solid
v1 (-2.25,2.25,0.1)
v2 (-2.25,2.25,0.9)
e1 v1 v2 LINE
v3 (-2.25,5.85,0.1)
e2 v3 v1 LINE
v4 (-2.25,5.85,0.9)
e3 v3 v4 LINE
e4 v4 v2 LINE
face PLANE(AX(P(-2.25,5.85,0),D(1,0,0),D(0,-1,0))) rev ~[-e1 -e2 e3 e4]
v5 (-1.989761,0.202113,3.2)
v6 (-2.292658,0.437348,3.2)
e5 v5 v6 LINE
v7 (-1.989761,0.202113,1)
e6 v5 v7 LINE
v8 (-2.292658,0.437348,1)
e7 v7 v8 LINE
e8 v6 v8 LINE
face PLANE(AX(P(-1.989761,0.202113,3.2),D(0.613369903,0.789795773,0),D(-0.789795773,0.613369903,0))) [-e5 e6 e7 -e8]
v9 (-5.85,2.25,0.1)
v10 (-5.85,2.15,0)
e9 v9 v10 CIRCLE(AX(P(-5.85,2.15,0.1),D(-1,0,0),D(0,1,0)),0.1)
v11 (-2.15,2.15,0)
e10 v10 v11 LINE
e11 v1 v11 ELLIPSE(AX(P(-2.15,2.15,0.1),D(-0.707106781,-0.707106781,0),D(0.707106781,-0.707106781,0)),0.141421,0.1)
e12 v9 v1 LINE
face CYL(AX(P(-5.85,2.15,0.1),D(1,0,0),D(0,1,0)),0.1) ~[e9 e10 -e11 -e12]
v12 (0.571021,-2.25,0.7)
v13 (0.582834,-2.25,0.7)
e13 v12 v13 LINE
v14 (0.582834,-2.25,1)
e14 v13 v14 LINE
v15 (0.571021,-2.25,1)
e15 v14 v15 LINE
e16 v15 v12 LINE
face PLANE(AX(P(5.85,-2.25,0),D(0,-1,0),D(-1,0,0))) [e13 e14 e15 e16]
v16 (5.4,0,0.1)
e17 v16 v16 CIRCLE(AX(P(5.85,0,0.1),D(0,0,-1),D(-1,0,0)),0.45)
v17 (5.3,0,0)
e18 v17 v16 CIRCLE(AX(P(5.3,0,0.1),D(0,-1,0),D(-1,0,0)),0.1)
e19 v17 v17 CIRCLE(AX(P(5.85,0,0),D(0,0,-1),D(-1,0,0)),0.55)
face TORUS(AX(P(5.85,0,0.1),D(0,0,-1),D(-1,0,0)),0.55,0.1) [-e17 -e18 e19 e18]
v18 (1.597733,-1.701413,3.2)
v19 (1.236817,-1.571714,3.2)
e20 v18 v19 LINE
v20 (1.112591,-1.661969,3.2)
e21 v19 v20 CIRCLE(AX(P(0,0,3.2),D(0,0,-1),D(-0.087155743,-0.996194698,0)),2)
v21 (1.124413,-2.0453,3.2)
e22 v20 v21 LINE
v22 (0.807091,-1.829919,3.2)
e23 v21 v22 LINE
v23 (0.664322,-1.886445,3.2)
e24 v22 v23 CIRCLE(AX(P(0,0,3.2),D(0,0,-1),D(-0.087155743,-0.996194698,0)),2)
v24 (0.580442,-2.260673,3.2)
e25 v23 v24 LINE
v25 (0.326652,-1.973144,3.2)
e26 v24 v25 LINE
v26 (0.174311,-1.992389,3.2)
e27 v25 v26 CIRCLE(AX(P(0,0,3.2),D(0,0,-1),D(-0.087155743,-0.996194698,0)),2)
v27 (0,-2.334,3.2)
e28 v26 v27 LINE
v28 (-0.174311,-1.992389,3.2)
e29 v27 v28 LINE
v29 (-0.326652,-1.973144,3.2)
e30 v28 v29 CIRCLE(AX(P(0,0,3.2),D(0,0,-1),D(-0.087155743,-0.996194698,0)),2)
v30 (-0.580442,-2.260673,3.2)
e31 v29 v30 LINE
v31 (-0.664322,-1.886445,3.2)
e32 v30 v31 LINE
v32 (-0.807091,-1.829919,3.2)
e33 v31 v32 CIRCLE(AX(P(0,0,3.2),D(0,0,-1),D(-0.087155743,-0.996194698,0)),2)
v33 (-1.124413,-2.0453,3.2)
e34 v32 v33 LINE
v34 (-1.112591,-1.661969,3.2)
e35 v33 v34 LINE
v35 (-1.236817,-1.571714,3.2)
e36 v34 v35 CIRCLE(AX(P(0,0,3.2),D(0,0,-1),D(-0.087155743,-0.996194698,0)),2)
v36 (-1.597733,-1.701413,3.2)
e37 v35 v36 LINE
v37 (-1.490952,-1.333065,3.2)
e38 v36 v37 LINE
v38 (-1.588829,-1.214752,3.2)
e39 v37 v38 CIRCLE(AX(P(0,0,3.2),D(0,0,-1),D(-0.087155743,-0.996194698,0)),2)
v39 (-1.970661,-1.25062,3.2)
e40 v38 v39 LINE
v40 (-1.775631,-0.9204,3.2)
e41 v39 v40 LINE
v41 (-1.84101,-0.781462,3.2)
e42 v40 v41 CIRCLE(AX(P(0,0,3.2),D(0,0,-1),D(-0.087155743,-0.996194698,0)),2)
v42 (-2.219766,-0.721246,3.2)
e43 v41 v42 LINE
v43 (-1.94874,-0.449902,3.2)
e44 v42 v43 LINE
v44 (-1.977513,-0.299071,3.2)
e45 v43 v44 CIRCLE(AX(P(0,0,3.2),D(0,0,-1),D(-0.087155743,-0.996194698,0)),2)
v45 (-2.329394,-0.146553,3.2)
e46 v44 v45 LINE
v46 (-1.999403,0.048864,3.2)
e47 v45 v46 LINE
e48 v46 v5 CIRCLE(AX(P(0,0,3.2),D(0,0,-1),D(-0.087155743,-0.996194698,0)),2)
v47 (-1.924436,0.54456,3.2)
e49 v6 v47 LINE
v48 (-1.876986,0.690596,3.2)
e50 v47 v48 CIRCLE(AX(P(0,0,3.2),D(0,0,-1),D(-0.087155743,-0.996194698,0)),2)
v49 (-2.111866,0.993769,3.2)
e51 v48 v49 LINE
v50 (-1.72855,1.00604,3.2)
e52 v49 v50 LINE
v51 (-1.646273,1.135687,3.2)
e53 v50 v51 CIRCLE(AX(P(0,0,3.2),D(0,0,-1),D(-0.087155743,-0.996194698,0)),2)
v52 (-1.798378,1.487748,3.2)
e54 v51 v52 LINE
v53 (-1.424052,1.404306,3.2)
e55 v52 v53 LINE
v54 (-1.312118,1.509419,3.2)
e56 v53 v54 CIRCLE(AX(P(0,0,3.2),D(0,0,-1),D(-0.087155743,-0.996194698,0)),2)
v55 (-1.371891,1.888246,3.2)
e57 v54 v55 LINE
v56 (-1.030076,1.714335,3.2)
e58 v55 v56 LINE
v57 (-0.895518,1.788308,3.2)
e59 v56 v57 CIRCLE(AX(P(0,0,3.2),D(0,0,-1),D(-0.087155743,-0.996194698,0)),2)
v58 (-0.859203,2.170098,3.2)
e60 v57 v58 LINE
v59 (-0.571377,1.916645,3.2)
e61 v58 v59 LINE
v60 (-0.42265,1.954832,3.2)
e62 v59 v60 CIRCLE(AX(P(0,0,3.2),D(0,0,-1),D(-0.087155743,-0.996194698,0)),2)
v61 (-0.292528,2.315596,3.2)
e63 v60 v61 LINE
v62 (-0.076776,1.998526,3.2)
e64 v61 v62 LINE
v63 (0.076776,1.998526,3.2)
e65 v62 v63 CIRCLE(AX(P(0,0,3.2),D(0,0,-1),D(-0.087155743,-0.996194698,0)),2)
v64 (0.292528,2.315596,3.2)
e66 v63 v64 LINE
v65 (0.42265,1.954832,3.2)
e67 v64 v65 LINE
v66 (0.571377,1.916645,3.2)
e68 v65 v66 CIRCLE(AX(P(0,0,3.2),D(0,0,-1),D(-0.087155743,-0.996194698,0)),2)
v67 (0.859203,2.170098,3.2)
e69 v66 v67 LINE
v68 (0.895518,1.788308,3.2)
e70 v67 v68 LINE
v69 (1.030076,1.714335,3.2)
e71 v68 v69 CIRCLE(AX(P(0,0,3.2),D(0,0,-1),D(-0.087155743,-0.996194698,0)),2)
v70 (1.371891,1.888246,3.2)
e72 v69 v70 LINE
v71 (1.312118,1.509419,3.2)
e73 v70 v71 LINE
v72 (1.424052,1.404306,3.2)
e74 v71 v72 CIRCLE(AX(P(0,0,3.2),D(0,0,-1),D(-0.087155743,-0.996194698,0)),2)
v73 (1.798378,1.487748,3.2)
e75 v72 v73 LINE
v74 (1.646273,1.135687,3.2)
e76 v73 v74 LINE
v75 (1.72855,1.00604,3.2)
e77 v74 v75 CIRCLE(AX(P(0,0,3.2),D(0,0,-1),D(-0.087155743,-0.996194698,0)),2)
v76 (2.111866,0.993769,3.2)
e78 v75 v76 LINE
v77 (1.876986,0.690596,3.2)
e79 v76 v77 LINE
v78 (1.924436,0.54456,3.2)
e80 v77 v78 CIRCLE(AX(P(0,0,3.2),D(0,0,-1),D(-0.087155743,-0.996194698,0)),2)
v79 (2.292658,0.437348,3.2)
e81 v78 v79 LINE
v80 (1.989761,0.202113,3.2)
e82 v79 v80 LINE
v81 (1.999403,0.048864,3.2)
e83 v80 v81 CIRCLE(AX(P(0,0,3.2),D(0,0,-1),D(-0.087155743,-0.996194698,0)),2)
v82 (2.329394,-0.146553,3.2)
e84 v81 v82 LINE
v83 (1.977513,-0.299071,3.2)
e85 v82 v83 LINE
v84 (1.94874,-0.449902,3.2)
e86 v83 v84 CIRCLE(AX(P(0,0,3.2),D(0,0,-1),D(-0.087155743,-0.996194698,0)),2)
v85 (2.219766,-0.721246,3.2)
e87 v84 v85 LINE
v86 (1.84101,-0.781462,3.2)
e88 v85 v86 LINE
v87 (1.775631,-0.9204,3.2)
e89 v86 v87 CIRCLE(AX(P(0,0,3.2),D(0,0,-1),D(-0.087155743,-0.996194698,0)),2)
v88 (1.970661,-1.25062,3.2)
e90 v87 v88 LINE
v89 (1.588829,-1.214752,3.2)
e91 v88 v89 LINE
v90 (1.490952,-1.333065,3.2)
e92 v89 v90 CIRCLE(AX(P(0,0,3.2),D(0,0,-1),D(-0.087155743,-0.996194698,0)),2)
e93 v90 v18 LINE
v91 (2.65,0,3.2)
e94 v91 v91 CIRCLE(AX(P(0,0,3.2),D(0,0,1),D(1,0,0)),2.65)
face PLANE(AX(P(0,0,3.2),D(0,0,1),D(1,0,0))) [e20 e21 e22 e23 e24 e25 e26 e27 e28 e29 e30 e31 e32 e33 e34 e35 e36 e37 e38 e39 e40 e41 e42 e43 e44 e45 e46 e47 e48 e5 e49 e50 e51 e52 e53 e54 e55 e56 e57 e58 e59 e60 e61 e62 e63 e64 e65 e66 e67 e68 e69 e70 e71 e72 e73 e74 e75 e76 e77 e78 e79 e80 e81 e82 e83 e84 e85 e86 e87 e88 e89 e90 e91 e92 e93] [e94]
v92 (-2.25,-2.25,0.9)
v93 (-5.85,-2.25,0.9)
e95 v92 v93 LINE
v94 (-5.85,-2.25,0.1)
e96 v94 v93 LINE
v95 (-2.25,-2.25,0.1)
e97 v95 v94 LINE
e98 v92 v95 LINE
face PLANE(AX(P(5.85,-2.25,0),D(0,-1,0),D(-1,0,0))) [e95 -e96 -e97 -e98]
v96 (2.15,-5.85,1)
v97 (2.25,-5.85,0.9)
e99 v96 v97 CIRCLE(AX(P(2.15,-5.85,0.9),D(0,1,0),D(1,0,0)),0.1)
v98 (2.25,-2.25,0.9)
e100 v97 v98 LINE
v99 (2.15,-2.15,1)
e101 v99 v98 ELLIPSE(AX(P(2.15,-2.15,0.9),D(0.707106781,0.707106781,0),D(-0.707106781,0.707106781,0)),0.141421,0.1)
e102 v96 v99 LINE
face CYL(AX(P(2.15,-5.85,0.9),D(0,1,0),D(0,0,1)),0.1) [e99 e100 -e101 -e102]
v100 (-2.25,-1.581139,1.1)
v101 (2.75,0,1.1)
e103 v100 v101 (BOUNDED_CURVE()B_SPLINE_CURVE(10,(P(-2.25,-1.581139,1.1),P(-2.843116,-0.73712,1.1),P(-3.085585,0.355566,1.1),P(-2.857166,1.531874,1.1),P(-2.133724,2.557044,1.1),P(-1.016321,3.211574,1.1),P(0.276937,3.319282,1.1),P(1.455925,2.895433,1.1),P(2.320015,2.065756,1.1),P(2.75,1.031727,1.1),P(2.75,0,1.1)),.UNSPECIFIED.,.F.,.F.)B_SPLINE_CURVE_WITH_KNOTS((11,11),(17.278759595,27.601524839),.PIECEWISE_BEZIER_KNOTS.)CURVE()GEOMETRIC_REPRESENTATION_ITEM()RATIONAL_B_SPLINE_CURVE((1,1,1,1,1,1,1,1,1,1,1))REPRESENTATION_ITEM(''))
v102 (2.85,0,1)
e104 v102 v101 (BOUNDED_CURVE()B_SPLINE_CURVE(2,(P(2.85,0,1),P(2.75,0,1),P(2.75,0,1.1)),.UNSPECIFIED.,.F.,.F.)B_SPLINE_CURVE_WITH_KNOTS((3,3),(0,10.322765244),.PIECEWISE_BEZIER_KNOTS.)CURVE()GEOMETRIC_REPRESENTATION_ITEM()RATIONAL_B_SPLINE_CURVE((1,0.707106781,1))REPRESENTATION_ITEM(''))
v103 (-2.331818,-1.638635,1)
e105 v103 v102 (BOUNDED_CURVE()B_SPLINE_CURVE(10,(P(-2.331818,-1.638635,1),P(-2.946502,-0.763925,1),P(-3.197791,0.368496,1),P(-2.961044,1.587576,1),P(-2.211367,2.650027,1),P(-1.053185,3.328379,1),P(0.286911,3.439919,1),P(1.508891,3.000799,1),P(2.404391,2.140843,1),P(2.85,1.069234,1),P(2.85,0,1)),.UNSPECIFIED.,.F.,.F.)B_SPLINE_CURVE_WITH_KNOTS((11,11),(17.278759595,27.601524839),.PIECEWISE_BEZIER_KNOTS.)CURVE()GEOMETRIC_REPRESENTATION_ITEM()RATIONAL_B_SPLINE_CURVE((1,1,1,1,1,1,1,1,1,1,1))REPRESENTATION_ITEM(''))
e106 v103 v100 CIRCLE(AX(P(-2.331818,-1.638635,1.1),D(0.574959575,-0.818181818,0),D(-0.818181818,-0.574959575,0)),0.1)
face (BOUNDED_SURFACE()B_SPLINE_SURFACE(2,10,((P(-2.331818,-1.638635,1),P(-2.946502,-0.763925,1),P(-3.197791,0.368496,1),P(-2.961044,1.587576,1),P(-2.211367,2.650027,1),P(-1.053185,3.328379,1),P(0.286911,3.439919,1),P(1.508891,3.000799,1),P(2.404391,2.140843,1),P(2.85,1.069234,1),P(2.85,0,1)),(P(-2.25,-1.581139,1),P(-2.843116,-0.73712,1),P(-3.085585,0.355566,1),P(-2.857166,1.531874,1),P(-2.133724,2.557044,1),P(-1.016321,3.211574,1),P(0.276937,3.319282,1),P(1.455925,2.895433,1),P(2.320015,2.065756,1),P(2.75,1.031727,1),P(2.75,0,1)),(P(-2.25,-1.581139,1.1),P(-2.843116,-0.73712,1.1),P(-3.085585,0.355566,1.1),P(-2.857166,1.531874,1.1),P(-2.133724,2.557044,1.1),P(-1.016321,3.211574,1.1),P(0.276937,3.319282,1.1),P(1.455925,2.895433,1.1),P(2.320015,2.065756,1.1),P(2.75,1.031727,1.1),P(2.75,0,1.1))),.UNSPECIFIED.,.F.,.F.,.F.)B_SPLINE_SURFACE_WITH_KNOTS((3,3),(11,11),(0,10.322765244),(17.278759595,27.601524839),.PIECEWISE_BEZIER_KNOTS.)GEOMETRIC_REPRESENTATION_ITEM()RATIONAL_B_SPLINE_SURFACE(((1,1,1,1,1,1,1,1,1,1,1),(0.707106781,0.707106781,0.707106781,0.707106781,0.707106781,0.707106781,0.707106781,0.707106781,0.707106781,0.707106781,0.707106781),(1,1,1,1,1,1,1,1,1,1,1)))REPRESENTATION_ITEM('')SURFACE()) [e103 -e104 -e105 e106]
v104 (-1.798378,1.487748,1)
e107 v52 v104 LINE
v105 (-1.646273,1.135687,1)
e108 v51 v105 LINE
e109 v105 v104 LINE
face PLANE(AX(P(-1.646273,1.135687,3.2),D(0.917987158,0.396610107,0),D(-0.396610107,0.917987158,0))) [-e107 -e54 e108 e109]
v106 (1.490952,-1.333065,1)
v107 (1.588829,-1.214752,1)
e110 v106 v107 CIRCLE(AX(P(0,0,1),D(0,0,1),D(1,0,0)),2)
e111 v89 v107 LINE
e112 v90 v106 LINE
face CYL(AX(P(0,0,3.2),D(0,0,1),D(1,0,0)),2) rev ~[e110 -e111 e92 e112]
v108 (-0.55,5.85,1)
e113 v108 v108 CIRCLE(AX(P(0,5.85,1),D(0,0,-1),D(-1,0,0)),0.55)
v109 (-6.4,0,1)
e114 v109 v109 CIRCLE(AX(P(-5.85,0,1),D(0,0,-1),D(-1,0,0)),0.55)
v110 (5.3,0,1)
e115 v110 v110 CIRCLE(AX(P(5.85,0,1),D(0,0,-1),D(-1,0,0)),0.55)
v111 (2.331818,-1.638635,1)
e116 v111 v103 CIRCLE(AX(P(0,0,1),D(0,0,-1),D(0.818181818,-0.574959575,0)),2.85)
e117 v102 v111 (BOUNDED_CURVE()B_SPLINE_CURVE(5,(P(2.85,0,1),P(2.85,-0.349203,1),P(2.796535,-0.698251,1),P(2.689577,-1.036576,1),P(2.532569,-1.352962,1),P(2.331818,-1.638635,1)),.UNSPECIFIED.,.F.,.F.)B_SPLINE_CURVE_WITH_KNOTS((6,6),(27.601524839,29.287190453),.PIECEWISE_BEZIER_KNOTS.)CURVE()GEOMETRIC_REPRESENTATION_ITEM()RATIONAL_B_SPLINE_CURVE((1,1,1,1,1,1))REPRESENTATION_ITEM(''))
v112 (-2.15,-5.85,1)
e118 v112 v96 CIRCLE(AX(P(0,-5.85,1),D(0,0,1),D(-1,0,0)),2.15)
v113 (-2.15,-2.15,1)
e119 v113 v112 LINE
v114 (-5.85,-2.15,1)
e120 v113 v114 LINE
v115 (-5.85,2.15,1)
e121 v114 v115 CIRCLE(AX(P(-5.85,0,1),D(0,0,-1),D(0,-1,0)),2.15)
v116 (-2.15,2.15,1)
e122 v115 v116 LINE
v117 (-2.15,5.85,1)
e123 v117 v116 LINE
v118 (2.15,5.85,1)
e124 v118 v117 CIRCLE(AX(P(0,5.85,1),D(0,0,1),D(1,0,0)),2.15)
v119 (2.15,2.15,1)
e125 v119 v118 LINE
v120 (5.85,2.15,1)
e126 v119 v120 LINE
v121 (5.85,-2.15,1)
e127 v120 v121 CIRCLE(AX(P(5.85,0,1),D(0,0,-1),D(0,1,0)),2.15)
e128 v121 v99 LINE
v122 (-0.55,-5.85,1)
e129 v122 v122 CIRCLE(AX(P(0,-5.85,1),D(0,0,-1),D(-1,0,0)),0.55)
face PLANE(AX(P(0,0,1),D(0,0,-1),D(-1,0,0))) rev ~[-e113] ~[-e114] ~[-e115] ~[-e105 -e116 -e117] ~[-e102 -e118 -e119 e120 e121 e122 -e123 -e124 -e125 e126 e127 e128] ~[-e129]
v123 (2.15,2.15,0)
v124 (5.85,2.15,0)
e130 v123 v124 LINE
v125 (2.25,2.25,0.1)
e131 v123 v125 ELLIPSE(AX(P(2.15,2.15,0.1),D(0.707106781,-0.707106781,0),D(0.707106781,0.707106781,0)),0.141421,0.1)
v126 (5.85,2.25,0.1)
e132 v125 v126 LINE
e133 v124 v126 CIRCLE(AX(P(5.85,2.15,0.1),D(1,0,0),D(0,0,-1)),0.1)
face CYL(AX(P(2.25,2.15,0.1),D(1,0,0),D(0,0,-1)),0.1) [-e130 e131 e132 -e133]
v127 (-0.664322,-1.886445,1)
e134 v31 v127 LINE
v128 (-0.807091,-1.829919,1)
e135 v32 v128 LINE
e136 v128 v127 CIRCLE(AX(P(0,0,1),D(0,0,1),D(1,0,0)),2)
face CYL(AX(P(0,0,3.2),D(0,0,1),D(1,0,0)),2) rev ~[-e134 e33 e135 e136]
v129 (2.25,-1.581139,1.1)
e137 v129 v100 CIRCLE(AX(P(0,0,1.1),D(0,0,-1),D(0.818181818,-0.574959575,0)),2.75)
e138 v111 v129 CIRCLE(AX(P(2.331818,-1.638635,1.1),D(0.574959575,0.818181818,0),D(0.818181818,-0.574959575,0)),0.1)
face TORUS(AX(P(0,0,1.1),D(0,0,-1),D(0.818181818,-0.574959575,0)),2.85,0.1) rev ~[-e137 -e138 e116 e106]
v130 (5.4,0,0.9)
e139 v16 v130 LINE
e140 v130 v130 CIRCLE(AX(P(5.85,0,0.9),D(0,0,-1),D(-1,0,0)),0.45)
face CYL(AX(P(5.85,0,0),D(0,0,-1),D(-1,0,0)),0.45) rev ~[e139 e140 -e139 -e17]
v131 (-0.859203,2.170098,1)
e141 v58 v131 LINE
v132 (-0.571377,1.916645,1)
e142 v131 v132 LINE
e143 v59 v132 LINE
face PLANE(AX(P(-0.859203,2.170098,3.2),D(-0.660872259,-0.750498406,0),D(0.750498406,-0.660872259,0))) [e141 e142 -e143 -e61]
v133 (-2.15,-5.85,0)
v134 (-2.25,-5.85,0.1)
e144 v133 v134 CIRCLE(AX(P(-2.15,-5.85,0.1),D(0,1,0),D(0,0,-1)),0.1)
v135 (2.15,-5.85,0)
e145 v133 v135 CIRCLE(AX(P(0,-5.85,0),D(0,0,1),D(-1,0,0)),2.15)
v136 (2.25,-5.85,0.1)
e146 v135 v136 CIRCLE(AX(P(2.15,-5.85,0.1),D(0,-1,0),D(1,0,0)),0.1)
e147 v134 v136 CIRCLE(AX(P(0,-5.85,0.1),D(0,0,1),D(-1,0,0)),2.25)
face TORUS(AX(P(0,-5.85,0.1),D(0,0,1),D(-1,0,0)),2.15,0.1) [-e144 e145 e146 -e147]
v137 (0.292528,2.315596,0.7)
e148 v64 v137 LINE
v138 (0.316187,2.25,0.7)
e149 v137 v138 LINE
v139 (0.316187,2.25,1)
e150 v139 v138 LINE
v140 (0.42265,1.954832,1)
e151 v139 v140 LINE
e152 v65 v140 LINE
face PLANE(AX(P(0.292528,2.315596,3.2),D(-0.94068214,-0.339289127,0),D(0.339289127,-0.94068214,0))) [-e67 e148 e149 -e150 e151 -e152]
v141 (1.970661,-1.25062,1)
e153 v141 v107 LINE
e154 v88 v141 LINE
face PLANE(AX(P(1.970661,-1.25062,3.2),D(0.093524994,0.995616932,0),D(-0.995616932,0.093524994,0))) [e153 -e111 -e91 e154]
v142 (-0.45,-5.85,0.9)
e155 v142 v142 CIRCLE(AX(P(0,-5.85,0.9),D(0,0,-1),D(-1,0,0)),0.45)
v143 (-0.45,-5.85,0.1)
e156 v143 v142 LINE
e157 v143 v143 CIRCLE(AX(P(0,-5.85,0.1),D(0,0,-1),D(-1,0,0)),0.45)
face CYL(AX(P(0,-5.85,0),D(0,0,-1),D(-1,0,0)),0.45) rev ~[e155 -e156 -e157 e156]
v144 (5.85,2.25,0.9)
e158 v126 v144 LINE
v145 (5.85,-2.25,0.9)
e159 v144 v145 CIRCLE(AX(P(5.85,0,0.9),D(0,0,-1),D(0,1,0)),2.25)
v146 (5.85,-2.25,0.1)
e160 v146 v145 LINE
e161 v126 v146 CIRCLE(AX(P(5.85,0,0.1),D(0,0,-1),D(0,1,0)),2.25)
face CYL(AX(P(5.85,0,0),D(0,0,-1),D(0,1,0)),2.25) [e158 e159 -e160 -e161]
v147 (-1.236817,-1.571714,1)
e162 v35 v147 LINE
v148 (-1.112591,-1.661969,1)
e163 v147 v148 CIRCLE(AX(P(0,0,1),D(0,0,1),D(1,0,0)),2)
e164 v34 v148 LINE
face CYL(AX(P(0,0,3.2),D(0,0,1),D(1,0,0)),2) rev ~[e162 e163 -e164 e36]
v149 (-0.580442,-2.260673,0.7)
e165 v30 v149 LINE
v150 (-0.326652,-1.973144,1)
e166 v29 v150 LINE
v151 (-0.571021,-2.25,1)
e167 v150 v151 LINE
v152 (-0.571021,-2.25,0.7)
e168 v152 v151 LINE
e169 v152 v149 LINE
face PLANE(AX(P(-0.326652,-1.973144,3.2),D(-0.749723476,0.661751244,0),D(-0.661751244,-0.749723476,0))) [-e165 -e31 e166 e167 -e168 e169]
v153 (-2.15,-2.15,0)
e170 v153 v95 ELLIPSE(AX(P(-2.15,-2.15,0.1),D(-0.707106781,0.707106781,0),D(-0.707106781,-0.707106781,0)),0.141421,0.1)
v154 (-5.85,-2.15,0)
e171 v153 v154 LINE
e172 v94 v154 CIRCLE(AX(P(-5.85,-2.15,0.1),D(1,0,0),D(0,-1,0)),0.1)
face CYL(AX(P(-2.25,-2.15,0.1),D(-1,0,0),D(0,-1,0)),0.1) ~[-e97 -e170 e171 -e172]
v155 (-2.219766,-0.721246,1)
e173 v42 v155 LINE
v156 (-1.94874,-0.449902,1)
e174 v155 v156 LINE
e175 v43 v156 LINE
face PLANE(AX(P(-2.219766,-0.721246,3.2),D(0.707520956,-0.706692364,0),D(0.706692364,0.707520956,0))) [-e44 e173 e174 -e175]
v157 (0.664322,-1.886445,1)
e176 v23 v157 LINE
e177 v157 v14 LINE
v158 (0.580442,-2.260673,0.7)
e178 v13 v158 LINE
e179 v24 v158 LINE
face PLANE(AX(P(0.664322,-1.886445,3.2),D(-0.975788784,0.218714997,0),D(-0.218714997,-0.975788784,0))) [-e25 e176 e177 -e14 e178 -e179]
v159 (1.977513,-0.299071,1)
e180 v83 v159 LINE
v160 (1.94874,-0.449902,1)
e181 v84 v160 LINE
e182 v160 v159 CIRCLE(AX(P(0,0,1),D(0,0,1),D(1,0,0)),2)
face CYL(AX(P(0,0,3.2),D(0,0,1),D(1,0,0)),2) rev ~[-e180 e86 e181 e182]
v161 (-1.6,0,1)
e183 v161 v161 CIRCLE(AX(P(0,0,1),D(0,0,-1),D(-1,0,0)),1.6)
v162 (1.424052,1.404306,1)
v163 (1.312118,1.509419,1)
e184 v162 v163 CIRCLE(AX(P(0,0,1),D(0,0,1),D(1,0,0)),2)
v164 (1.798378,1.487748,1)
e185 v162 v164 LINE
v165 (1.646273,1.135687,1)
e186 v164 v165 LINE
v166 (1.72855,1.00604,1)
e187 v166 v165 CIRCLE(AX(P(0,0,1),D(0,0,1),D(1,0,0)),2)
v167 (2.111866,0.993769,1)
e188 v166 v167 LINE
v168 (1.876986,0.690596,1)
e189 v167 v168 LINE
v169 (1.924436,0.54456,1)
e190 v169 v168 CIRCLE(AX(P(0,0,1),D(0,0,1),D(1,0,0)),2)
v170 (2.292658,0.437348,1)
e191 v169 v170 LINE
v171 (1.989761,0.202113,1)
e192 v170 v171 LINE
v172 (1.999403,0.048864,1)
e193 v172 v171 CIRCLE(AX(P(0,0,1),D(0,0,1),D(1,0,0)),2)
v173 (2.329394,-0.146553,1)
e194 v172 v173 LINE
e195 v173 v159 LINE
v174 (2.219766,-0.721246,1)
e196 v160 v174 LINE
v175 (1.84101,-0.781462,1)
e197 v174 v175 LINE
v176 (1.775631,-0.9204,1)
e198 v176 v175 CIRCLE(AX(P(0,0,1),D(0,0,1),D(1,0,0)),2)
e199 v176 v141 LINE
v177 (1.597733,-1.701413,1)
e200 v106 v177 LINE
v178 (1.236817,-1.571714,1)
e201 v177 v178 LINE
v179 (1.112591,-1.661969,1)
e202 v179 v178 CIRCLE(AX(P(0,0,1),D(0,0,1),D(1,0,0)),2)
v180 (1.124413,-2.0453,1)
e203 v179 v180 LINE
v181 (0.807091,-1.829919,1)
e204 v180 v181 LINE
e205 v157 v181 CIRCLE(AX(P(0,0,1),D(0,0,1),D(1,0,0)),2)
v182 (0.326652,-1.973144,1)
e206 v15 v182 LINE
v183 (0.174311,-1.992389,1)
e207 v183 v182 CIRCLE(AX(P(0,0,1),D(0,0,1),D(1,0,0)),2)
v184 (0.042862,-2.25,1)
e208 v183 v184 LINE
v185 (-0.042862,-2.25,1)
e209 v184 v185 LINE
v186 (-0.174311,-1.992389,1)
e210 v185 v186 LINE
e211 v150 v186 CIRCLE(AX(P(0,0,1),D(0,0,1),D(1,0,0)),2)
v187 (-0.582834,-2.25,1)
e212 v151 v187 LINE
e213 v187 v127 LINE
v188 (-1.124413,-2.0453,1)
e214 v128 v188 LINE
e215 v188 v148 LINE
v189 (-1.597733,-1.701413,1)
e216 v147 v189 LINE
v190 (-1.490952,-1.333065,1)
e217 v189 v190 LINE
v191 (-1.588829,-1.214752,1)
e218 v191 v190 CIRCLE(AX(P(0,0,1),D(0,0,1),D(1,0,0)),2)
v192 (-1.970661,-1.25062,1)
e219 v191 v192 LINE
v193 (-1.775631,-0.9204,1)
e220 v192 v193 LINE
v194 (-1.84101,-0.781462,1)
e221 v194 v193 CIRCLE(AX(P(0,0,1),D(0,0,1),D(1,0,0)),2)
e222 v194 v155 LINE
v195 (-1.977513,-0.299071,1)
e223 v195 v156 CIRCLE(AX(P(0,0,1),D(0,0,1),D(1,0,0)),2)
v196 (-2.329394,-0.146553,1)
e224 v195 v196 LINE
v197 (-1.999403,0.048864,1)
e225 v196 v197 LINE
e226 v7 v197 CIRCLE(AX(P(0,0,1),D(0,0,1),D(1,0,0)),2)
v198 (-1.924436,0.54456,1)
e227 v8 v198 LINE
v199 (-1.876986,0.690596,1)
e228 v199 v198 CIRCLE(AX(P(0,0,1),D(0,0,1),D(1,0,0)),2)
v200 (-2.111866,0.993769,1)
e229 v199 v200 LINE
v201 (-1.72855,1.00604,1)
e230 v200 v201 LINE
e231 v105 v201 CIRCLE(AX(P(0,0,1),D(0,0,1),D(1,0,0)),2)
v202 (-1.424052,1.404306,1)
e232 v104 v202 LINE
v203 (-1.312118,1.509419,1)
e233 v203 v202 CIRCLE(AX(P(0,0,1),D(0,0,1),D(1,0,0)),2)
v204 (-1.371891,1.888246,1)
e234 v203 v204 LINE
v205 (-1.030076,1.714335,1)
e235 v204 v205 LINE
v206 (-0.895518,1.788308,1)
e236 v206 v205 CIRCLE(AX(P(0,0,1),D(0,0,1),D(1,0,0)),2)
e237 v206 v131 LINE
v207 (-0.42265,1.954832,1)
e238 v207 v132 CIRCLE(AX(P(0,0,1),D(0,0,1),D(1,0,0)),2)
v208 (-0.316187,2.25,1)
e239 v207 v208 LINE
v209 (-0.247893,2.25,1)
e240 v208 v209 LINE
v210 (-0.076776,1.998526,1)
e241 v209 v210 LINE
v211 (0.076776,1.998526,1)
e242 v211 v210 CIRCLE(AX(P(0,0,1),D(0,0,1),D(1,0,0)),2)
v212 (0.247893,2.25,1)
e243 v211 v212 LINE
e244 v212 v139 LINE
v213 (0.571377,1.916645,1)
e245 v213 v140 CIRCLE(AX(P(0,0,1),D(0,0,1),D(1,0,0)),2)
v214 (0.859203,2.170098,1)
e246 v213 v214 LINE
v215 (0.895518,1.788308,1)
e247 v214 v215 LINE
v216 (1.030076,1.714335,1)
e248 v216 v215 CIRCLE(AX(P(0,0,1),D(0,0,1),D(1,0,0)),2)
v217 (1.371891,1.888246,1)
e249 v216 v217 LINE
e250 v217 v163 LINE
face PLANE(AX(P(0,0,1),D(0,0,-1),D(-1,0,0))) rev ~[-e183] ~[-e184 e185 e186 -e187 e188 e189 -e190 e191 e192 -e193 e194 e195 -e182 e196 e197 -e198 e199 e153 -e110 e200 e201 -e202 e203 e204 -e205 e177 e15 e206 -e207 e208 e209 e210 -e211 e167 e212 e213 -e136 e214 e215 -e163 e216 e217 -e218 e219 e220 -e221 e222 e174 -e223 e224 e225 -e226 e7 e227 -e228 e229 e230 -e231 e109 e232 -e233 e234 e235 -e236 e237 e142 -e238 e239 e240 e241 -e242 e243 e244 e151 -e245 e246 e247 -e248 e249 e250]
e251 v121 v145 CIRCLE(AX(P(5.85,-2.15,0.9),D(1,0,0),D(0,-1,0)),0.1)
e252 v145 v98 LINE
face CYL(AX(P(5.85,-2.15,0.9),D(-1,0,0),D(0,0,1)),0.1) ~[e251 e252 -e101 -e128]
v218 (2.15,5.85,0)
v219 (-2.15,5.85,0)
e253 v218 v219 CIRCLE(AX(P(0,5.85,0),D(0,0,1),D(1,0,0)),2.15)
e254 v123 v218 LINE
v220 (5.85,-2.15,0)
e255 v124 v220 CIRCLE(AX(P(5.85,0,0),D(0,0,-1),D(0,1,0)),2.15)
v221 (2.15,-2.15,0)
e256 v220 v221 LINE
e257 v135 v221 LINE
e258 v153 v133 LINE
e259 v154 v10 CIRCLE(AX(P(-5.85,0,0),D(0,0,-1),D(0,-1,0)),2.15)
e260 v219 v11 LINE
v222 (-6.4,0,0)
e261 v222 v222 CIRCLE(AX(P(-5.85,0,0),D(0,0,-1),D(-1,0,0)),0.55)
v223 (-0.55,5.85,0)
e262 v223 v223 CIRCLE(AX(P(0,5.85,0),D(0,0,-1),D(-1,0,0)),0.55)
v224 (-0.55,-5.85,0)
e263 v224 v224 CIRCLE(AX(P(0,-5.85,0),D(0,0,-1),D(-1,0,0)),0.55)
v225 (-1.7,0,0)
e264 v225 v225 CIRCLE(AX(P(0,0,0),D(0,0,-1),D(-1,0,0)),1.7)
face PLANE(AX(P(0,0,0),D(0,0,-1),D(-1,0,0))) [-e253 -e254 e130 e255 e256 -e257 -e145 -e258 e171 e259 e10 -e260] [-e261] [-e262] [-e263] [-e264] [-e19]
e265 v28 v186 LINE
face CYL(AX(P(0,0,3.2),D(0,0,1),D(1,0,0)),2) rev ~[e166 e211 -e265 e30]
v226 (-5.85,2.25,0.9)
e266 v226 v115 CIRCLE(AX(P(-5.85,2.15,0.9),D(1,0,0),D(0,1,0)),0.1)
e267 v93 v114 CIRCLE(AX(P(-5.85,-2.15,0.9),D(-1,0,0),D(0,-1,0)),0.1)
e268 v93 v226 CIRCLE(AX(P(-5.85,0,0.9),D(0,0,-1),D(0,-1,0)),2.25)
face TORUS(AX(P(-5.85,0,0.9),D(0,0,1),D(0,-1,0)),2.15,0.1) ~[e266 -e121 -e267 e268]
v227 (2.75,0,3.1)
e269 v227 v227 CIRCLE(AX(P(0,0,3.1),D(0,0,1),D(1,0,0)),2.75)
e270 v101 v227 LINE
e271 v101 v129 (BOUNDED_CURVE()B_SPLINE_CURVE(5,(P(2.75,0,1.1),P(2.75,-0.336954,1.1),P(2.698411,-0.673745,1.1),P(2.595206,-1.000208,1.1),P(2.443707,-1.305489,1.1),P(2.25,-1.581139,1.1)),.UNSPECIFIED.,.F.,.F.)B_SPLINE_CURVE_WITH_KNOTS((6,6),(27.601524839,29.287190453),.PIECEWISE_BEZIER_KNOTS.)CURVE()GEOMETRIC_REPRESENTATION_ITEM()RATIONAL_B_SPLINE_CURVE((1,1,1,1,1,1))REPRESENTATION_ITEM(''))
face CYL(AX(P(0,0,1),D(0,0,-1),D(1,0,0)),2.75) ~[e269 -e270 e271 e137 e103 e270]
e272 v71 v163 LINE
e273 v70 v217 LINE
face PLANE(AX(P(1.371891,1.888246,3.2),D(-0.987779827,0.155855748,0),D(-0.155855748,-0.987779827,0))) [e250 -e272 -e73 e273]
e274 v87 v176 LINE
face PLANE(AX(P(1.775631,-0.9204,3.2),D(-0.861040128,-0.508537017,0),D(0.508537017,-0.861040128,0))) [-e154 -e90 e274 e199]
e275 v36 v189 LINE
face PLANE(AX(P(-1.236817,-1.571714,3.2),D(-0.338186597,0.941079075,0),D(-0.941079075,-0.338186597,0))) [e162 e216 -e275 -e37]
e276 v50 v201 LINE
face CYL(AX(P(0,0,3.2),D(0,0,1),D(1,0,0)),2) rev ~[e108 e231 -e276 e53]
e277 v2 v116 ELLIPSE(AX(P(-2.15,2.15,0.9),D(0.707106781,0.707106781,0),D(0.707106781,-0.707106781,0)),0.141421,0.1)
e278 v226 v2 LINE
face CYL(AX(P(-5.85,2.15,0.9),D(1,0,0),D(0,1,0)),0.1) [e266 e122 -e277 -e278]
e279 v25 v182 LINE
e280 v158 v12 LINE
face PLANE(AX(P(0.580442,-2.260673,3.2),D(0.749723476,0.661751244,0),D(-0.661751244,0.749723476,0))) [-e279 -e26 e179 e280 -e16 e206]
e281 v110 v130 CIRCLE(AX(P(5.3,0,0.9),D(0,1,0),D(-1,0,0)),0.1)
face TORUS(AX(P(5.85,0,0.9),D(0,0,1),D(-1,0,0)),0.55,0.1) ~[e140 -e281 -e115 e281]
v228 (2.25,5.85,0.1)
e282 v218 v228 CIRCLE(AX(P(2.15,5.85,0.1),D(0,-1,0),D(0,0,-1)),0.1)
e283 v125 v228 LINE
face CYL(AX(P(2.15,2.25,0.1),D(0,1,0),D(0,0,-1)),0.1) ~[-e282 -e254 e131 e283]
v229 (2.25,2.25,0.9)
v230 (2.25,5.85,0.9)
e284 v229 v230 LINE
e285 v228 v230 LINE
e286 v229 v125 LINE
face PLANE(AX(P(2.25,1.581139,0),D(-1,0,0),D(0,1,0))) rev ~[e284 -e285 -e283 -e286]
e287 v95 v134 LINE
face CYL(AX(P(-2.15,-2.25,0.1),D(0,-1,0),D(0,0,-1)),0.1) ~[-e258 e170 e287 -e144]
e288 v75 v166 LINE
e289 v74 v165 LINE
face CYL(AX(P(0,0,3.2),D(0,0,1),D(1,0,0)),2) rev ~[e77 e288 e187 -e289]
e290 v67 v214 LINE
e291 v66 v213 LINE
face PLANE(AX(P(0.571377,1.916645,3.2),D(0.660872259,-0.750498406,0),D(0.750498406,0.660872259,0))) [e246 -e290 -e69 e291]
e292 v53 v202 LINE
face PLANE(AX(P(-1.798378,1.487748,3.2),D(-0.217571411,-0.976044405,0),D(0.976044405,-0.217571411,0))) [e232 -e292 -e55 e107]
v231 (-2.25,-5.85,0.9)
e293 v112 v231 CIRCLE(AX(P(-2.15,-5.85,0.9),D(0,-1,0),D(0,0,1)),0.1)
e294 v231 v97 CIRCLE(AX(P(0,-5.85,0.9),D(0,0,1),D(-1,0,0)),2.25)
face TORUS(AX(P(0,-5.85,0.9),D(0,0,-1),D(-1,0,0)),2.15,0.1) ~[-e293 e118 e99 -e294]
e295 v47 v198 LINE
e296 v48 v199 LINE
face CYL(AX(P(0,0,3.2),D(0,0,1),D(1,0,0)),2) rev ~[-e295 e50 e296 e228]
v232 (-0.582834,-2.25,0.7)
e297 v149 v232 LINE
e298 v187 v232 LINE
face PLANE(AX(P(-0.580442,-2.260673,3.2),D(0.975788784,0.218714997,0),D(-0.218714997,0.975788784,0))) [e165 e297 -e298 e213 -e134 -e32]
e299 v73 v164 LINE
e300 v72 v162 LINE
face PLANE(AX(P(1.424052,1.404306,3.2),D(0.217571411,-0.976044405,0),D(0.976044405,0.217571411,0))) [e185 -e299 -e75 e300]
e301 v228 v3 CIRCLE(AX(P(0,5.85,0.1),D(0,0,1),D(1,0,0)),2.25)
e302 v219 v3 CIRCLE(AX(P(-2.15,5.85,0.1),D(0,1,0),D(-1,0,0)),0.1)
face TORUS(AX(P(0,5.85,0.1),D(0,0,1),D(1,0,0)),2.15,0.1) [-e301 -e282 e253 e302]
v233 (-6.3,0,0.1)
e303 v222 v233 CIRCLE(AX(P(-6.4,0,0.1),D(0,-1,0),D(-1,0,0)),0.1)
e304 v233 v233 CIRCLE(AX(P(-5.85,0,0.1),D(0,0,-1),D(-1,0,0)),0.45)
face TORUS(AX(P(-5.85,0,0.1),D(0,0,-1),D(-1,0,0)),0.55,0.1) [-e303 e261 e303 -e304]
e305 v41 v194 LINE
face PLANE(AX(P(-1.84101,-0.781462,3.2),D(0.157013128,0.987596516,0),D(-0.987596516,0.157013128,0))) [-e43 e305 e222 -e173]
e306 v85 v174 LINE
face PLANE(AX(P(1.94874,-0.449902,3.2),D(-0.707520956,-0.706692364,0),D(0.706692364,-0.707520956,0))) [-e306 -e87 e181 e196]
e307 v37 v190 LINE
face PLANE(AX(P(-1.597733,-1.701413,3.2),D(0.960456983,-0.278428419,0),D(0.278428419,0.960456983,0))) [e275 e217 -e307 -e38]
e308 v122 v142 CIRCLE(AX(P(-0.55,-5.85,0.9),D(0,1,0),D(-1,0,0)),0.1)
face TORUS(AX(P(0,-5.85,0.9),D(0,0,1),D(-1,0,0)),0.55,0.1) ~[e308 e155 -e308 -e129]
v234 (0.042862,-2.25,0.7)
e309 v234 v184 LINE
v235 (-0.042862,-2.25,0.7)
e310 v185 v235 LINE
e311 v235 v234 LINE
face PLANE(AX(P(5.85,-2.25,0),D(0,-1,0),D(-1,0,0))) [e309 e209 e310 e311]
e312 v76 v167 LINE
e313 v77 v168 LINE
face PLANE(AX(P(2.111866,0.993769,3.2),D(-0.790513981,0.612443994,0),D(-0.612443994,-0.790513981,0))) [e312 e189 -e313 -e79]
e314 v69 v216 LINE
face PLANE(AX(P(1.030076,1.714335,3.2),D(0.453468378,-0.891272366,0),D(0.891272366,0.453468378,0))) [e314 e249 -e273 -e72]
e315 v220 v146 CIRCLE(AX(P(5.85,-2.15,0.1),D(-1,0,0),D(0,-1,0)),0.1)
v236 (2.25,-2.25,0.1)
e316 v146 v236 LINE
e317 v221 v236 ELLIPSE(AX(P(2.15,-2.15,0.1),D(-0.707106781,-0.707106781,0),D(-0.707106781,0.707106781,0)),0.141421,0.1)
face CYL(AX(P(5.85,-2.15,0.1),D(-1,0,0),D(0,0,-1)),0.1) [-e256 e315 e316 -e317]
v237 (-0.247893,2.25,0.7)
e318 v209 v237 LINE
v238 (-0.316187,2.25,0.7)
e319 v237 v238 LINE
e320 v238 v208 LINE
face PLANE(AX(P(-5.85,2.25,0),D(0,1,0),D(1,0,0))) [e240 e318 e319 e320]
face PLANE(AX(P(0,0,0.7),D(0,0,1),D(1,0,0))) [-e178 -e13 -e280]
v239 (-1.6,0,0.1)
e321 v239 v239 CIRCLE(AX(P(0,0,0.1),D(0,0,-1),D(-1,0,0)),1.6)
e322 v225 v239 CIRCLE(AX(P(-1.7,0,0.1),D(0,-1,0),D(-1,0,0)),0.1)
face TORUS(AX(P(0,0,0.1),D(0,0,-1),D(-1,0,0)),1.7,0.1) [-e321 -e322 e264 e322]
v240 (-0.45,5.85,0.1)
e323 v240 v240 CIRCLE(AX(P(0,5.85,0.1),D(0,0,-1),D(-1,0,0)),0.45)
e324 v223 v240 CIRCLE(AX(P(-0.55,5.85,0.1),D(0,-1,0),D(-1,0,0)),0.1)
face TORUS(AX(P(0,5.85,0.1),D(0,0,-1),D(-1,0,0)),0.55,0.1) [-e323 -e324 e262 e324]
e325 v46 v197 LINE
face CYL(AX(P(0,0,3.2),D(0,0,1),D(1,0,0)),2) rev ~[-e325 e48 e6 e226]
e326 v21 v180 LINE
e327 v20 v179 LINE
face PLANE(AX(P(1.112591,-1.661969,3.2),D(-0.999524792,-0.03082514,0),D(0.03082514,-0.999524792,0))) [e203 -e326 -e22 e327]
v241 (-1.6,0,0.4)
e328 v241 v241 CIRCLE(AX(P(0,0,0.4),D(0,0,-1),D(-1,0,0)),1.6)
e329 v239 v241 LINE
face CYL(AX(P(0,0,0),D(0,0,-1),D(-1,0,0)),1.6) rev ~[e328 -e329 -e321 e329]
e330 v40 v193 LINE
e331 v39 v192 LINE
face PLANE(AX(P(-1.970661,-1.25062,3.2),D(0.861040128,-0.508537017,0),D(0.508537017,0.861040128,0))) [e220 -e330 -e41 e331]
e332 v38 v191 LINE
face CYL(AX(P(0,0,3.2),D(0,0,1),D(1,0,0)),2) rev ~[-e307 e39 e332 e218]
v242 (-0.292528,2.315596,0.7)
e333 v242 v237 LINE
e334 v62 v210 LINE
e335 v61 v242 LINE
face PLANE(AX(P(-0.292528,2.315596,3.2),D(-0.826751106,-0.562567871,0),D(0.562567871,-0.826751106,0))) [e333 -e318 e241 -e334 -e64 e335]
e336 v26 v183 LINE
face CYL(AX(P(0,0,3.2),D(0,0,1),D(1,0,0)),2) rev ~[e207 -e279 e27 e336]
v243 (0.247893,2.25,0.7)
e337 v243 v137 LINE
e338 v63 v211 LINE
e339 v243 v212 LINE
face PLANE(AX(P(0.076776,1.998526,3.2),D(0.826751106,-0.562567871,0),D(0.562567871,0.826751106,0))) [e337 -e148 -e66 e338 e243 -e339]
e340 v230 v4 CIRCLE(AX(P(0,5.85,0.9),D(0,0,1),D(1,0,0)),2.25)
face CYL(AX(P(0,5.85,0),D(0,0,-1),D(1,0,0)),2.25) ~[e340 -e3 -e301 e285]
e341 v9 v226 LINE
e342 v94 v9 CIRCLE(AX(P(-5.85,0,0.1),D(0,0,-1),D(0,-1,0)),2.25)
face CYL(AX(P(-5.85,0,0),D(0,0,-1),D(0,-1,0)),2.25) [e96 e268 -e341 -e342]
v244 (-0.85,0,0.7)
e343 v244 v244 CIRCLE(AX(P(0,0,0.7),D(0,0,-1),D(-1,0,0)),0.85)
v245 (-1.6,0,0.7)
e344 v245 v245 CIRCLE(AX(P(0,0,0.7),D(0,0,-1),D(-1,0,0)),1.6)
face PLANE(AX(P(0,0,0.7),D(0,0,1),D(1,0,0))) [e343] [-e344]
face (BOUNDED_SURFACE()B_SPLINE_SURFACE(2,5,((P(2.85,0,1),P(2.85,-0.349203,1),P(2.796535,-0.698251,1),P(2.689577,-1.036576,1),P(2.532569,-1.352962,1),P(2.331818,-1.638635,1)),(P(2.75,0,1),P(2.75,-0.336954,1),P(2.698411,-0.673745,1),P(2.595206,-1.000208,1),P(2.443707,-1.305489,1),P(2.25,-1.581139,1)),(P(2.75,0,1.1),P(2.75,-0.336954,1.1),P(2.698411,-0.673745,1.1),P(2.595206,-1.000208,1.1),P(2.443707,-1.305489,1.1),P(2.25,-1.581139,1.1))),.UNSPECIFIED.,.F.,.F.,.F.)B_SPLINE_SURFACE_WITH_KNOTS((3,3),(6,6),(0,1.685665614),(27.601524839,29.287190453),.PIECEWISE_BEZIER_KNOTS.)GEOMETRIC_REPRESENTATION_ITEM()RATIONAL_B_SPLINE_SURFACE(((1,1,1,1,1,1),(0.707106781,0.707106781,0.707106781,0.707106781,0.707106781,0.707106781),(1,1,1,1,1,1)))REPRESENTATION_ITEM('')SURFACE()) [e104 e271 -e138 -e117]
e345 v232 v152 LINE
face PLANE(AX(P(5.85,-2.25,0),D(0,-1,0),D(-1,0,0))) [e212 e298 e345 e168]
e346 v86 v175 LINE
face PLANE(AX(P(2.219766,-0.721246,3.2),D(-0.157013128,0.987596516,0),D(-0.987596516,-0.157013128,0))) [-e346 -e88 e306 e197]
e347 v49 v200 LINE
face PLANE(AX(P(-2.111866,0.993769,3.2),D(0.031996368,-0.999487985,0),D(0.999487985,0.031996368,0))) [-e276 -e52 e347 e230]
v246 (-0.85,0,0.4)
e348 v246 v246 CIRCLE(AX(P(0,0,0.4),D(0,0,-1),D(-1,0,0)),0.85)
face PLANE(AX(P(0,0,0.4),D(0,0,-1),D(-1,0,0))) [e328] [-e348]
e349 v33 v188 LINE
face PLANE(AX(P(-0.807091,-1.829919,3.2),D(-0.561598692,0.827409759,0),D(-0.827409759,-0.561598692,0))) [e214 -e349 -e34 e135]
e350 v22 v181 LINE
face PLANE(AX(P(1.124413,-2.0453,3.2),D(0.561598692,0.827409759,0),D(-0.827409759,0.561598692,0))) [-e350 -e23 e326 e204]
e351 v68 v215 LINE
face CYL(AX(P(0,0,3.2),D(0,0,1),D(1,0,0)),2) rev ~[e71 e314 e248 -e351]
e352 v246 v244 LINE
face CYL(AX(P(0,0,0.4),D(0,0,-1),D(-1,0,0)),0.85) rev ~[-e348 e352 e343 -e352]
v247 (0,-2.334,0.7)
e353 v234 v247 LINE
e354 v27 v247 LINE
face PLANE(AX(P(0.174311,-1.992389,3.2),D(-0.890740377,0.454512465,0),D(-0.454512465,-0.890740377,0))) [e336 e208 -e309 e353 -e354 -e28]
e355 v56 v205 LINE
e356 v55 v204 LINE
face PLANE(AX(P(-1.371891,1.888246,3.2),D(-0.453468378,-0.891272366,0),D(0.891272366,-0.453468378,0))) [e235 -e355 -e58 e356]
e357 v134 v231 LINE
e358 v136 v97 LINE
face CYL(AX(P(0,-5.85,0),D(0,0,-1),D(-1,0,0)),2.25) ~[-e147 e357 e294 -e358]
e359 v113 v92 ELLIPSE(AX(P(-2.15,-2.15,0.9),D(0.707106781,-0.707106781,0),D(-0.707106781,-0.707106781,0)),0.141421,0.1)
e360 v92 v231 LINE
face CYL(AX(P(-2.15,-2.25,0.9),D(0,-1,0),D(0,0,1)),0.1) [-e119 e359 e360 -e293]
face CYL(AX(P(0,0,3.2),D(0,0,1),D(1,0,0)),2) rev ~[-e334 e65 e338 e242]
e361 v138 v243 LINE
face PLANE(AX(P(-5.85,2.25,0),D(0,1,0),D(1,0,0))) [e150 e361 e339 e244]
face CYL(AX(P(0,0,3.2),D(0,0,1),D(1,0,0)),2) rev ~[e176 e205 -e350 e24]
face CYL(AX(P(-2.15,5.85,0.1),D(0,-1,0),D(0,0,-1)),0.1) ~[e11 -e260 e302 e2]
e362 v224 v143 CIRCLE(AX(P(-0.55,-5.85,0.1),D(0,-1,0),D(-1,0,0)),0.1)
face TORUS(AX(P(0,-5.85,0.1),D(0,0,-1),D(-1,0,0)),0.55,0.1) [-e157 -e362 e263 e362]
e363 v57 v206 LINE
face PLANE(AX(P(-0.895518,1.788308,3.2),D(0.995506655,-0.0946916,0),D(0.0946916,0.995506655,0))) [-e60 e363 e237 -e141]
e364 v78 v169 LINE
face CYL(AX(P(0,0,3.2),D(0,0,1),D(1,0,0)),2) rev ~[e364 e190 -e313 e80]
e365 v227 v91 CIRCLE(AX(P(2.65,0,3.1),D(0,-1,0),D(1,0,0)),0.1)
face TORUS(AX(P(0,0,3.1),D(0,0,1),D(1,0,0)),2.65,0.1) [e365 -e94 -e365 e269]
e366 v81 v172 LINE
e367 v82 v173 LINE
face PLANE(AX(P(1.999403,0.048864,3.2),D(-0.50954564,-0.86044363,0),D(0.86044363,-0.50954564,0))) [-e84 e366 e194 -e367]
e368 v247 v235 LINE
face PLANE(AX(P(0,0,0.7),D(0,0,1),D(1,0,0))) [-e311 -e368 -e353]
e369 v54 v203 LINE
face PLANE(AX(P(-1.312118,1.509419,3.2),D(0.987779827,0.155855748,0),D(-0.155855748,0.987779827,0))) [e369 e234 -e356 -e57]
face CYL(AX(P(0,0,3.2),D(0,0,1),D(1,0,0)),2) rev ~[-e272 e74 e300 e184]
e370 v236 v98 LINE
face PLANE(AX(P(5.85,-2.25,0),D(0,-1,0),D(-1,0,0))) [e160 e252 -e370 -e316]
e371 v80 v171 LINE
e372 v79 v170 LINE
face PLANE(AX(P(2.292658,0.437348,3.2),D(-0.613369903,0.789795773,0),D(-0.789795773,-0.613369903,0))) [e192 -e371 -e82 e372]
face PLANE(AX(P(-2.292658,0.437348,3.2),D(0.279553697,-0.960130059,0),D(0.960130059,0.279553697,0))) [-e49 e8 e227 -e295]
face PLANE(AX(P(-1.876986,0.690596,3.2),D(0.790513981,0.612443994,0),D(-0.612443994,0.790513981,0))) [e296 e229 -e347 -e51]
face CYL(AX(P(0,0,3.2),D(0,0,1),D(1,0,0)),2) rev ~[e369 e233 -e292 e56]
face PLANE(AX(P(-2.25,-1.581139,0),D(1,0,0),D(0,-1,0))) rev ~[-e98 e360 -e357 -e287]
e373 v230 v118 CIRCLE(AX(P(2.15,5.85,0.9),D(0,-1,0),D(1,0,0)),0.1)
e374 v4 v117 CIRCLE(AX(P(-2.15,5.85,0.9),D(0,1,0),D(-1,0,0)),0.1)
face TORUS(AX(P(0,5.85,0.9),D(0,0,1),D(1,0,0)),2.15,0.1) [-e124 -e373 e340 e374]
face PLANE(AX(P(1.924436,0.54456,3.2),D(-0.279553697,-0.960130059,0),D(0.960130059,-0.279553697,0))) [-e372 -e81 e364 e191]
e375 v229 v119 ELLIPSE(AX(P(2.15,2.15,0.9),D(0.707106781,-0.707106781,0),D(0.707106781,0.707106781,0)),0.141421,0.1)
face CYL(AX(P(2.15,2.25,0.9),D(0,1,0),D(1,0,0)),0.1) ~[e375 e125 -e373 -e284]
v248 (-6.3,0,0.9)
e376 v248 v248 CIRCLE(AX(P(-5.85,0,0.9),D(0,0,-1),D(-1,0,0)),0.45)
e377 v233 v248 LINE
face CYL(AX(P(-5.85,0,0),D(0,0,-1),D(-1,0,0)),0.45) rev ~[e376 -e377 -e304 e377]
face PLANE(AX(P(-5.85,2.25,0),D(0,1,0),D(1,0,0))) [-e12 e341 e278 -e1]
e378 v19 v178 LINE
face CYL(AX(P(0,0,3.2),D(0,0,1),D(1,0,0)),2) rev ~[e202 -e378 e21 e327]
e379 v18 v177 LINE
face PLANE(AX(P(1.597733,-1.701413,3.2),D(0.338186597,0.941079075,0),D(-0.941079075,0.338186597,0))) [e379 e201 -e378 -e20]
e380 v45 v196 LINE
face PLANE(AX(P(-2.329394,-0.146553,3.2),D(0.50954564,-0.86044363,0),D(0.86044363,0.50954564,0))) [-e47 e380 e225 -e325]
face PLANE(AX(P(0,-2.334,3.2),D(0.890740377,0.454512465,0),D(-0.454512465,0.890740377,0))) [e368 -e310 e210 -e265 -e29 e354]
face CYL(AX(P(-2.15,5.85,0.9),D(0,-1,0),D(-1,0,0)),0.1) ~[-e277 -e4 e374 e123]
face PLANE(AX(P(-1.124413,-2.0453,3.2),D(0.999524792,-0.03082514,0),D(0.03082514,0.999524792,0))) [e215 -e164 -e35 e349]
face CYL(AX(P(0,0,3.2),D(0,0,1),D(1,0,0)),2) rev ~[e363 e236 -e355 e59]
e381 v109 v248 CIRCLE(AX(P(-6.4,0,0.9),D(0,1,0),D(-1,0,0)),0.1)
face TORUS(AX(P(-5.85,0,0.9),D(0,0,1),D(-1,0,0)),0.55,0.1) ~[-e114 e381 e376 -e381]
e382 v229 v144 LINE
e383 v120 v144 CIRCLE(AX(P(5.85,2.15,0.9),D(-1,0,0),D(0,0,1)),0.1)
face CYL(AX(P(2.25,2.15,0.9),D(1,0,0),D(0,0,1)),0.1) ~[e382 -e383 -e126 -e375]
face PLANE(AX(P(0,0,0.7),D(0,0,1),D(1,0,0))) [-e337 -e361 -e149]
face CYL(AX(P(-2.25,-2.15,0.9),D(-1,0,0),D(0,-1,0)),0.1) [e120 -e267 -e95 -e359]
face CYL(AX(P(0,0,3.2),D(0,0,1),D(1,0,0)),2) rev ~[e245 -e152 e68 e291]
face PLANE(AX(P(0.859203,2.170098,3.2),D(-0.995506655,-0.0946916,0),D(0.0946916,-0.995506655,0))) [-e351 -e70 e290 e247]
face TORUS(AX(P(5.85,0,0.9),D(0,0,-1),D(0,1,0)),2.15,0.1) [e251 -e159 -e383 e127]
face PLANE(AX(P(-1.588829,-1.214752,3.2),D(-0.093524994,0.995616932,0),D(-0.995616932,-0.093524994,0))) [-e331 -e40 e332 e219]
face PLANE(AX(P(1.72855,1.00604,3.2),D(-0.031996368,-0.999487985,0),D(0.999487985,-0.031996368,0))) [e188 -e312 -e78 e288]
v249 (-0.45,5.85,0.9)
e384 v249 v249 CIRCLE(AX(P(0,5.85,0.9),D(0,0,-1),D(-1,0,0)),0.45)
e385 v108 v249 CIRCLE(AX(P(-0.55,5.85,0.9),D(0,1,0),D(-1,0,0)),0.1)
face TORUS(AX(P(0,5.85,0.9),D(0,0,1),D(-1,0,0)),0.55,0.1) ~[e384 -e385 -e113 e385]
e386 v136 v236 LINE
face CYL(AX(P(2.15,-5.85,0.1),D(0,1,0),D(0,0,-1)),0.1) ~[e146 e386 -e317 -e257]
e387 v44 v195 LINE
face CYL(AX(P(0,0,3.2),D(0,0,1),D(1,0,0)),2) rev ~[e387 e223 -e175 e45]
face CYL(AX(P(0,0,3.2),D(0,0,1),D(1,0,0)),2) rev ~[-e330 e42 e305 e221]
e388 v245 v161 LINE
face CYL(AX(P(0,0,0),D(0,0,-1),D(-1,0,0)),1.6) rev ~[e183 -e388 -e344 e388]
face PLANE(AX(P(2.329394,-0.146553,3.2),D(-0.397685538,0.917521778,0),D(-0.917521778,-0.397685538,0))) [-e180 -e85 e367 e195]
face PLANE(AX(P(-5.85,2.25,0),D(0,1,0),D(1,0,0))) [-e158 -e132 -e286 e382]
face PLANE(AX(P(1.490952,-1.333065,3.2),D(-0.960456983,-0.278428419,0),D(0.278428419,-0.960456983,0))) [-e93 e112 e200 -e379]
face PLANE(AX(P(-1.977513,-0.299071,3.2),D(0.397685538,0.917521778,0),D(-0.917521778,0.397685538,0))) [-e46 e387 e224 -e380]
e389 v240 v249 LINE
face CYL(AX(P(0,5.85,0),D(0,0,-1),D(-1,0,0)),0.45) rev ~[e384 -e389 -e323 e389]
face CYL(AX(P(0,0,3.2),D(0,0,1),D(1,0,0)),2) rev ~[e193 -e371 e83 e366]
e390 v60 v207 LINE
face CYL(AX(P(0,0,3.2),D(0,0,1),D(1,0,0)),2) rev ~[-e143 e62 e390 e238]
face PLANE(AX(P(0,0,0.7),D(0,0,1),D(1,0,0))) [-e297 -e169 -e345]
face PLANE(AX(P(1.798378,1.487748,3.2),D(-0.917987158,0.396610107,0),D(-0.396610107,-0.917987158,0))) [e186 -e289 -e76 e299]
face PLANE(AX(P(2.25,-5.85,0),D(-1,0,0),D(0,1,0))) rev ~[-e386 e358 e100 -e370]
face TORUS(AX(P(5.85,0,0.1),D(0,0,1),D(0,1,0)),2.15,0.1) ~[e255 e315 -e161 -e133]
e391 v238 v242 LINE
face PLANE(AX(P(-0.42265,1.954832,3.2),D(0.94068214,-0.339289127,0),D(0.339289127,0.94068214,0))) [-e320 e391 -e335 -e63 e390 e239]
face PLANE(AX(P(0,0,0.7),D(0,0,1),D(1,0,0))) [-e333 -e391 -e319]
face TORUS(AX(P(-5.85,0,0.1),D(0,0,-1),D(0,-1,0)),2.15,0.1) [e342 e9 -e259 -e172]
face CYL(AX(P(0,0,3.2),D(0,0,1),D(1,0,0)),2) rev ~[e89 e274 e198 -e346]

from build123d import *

# Parameters (mm, degrees)
ESQUISSE1_R             = 2.75
BOSS_EXTRU_1_DEPTH      = 1
ESQUISSE2_R             = 2.75
BOSS_EXTRU_2_DEPTH      = 2.2
ESQUISSE3_R             = 2
ENL_V_MAT_EXTRU_1_DEPTH = 2.5
ESQUISSE4_R             = 1.6
ENL_V_MAT_EXTRU_2_DEPTH = 0.4
ESQUISSE5_R             = 0.85
ENL_V_MAT_EXTRU_3_DEPTH = 4.8
ESQUISSE6_R             = 0.45
ENL_V_MAT_EXTRU_4_DEPTH = 4.2
CUT_EXTRUDE1_DEPTH      = 2.5
CIRPATTERN1_COUNT       = 25
BOSS_EXTRUDE1_DEPTH     = 1
SKETCH3_R               = 0.45
CUT_EXTRUDE2_DEPTH      = 4.2
SKETCH5_R               = 1.6
BOSS_EXTRUDE3_DEPTH     = 1
SKETCH9_R               = 0.45
CUT_EXTRUDE6_DEPTH      = 4.2
FILLET5_R               = 0.1


with BuildPart() as part:
    # Esquisse1 → Boss.-Extru.1 (new body)
    with BuildSketch(Plane.XY):
        with BuildLine():
            ThreePointArc((2.25, 5.85), (0, 8.1), (-2.25, 5.85))
            Line((-2.25, 5.85), (-2.25, 1.58113883))
            ThreePointArc((-2.25, 1.58113883), (0, 2.75), (2.25, 1.58113883))
            Line((2.25, 1.58113883), (2.25, 5.85))
        make_face()
        Circle(ESQUISSE1_R)
    extrude(amount=BOSS_EXTRU_1_DEPTH)

    # Esquisse2 → Boss.-Extru.2 (add)
    with BuildSketch(Plane.XY.offset(1)):
        Circle(ESQUISSE2_R)
    extrude(amount=BOSS_EXTRU_2_DEPTH)

    # Esquisse3 → Enlèv. mat.-Extru.1 (cut)
    with BuildSketch(Plane.XY.offset(3.2)):
        Circle(ESQUISSE3_R)
    extrude(amount=-ENL_V_MAT_EXTRU_1_DEPTH, mode=Mode.SUBTRACT)

    # Esquisse4 → Enlèv. mat.-Extru.2 (cut)
    with BuildSketch(Plane(origin=(0, 0, 0), x_dir=(-1, 0, 0), z_dir=(0, 0, -1))):
        Circle(ESQUISSE4_R)
    extrude(amount=-ENL_V_MAT_EXTRU_2_DEPTH, mode=Mode.SUBTRACT)

    # Esquisse5 → Enlèv. mat.-Extru.3 (cut)
    with BuildSketch(Plane(origin=(0, 0, 0.4), x_dir=(-1, 0, 0), z_dir=(0, 0, -1))):
        Circle(ESQUISSE5_R)
    extrude(amount=-ENL_V_MAT_EXTRU_3_DEPTH, mode=Mode.SUBTRACT)

    # Esquisse6 → Enlèv. mat.-Extru.4 (cut, through all)
    with BuildSketch(Plane(origin=(0, 0, 0), x_dir=(-1, 0, 0), z_dir=(0, 0, -1))):
        with Locations((0, 5.85)):
            Circle(ESQUISSE6_R)
    extrude(amount=-ENL_V_MAT_EXTRU_4_DEPTH, mode=Mode.SUBTRACT)

    # Sketch1 → Cut-Extrude1 (cut)
    with BuildSketch(Plane.XY.offset(3.2)):
        with BuildLine():
            Line((0.174311485, -1.992389396), (0, -2.334))
            Line((0, -2.334), (-0.174311485, -1.992389396))
            ThreePointArc((-0.174311485, -1.992389396), (0, -2), (0.174311485, -1.992389396))
        make_face()
    cut_extrude1 = extrude(amount=-CUT_EXTRUDE1_DEPTH, mode=Mode.SUBTRACT)

    # CirPattern1: Cut-Extrude1 ×25 about axis
    cirpattern1_axis = Axis((0, 0, 0), (0, 0, 1))
    for i in range(1, CIRPATTERN1_COUNT):
        add(cut_extrude1.rotate(cirpattern1_axis, i * 360 / CIRPATTERN1_COUNT), mode=Mode.SUBTRACT)

    # Sketch2 → Boss-Extrude1 (add)
    with BuildSketch(Plane(origin=(0, 0, 0), x_dir=(-1, 0, 0), z_dir=(0, 0, -1))):
        with BuildLine():
            Line((2.25, -1.58113883), (2.25, -5.85))
            ThreePointArc((2.25, -5.85), (0, -8.1), (-2.25, -5.85))
            Line((-2.25, -5.85), (-2.25, -1.58113883))
            ThreePointArc((-2.25, -1.58113883), (0, -2.75), (2.25, -1.58113883))
        make_face()
    extrude(amount=-BOSS_EXTRUDE1_DEPTH)

    # Sketch3 → Cut-Extrude2 (cut, through all)
    with BuildSketch(Plane(origin=(0, 0, 0), x_dir=(-1, 0, 0), z_dir=(0, 0, -1))):
        with Locations((0, -5.85)):
            Circle(SKETCH3_R)
    extrude(amount=-CUT_EXTRUDE2_DEPTH, mode=Mode.SUBTRACT)

    # Sketch5 → Boss-Extrude3 (add)
    with BuildSketch(Plane(origin=(0, 0, 0), x_dir=(-1, 0, 0), z_dir=(0, 0, -1))):
        with BuildLine():
            Line((5.85, 2.25), (-5.85, 2.25))
            ThreePointArc((-5.85, 2.25), (-8.1, 0), (-5.85, -2.25))
            Line((-5.85, -2.25), (5.85, -2.25))
            ThreePointArc((5.85, -2.25), (8.1, 0), (5.85, 2.25))
        make_face()
        Circle(SKETCH5_R, mode=Mode.SUBTRACT)
    extrude(amount=-BOSS_EXTRUDE3_DEPTH)

    # Sketch9 → Cut-Extrude6 (cut, through all)
    with BuildSketch(Plane(origin=(0, 0, 0), x_dir=(-1, 0, 0), z_dir=(0, 0, -1))):
        with Locations((5.85, 0)):
            Circle(SKETCH9_R)
        with Locations((-5.85, 0)):
            Circle(SKETCH9_R)
    extrude(amount=-CUT_EXTRUDE6_DEPTH, mode=Mode.SUBTRACT)

    # Fillet5
    fillet5_edges = [part.edges().sort_by_distance(p)[0] for p in [
        (-2.25, 4.05, 1),
        (-2.75, 0, 1),
        (-2.75, 0, 3.2),
        (1.6, 0, 0),
        (0, -8.1, 1),
        (0, -8.1, 0),
        (0.45, -5.85, 1),
        (0.45, -5.85, 0),
        (-2.25, -4.05, 1),
        (-2.25, -4.05, 0),
        (2.25, -4.05, 1),
        (2.25, -4.05, 0),
        (0.45, 5.85, 1),
        (0.45, 5.85, 0),
        (-4.05, 2.25, 1),
        (4.05, 2.25, 1),
        (-4.05, -2.25, 1),
        (-4.05, 2.25, 0),
        (-4.05, -2.25, 0),
        (-8.1, 0, 0),
        (-8.1, 0, 1),
        (4.05, -2.25, 1),
        (8.1, 0, 1),
        (4.05, 2.25, 0),
        (8.1, 0, 0),
        (4.05, -2.25, 0),
        (2.25, 4.05, 1),
        (-5.4, 0, 1),
        (-5.4, 0, 0),
        (6.3, 0, 1),
        (6.3, 0, 0),
        (-2.25, 4.05, 0),
        (0, 8.1, 0),
        (2.25, 4.05, 0),
        (0, 8.1, 1),
    ]]
    fillet(fillet5_edges, radius=FILLET5_R)


solid = part.part
